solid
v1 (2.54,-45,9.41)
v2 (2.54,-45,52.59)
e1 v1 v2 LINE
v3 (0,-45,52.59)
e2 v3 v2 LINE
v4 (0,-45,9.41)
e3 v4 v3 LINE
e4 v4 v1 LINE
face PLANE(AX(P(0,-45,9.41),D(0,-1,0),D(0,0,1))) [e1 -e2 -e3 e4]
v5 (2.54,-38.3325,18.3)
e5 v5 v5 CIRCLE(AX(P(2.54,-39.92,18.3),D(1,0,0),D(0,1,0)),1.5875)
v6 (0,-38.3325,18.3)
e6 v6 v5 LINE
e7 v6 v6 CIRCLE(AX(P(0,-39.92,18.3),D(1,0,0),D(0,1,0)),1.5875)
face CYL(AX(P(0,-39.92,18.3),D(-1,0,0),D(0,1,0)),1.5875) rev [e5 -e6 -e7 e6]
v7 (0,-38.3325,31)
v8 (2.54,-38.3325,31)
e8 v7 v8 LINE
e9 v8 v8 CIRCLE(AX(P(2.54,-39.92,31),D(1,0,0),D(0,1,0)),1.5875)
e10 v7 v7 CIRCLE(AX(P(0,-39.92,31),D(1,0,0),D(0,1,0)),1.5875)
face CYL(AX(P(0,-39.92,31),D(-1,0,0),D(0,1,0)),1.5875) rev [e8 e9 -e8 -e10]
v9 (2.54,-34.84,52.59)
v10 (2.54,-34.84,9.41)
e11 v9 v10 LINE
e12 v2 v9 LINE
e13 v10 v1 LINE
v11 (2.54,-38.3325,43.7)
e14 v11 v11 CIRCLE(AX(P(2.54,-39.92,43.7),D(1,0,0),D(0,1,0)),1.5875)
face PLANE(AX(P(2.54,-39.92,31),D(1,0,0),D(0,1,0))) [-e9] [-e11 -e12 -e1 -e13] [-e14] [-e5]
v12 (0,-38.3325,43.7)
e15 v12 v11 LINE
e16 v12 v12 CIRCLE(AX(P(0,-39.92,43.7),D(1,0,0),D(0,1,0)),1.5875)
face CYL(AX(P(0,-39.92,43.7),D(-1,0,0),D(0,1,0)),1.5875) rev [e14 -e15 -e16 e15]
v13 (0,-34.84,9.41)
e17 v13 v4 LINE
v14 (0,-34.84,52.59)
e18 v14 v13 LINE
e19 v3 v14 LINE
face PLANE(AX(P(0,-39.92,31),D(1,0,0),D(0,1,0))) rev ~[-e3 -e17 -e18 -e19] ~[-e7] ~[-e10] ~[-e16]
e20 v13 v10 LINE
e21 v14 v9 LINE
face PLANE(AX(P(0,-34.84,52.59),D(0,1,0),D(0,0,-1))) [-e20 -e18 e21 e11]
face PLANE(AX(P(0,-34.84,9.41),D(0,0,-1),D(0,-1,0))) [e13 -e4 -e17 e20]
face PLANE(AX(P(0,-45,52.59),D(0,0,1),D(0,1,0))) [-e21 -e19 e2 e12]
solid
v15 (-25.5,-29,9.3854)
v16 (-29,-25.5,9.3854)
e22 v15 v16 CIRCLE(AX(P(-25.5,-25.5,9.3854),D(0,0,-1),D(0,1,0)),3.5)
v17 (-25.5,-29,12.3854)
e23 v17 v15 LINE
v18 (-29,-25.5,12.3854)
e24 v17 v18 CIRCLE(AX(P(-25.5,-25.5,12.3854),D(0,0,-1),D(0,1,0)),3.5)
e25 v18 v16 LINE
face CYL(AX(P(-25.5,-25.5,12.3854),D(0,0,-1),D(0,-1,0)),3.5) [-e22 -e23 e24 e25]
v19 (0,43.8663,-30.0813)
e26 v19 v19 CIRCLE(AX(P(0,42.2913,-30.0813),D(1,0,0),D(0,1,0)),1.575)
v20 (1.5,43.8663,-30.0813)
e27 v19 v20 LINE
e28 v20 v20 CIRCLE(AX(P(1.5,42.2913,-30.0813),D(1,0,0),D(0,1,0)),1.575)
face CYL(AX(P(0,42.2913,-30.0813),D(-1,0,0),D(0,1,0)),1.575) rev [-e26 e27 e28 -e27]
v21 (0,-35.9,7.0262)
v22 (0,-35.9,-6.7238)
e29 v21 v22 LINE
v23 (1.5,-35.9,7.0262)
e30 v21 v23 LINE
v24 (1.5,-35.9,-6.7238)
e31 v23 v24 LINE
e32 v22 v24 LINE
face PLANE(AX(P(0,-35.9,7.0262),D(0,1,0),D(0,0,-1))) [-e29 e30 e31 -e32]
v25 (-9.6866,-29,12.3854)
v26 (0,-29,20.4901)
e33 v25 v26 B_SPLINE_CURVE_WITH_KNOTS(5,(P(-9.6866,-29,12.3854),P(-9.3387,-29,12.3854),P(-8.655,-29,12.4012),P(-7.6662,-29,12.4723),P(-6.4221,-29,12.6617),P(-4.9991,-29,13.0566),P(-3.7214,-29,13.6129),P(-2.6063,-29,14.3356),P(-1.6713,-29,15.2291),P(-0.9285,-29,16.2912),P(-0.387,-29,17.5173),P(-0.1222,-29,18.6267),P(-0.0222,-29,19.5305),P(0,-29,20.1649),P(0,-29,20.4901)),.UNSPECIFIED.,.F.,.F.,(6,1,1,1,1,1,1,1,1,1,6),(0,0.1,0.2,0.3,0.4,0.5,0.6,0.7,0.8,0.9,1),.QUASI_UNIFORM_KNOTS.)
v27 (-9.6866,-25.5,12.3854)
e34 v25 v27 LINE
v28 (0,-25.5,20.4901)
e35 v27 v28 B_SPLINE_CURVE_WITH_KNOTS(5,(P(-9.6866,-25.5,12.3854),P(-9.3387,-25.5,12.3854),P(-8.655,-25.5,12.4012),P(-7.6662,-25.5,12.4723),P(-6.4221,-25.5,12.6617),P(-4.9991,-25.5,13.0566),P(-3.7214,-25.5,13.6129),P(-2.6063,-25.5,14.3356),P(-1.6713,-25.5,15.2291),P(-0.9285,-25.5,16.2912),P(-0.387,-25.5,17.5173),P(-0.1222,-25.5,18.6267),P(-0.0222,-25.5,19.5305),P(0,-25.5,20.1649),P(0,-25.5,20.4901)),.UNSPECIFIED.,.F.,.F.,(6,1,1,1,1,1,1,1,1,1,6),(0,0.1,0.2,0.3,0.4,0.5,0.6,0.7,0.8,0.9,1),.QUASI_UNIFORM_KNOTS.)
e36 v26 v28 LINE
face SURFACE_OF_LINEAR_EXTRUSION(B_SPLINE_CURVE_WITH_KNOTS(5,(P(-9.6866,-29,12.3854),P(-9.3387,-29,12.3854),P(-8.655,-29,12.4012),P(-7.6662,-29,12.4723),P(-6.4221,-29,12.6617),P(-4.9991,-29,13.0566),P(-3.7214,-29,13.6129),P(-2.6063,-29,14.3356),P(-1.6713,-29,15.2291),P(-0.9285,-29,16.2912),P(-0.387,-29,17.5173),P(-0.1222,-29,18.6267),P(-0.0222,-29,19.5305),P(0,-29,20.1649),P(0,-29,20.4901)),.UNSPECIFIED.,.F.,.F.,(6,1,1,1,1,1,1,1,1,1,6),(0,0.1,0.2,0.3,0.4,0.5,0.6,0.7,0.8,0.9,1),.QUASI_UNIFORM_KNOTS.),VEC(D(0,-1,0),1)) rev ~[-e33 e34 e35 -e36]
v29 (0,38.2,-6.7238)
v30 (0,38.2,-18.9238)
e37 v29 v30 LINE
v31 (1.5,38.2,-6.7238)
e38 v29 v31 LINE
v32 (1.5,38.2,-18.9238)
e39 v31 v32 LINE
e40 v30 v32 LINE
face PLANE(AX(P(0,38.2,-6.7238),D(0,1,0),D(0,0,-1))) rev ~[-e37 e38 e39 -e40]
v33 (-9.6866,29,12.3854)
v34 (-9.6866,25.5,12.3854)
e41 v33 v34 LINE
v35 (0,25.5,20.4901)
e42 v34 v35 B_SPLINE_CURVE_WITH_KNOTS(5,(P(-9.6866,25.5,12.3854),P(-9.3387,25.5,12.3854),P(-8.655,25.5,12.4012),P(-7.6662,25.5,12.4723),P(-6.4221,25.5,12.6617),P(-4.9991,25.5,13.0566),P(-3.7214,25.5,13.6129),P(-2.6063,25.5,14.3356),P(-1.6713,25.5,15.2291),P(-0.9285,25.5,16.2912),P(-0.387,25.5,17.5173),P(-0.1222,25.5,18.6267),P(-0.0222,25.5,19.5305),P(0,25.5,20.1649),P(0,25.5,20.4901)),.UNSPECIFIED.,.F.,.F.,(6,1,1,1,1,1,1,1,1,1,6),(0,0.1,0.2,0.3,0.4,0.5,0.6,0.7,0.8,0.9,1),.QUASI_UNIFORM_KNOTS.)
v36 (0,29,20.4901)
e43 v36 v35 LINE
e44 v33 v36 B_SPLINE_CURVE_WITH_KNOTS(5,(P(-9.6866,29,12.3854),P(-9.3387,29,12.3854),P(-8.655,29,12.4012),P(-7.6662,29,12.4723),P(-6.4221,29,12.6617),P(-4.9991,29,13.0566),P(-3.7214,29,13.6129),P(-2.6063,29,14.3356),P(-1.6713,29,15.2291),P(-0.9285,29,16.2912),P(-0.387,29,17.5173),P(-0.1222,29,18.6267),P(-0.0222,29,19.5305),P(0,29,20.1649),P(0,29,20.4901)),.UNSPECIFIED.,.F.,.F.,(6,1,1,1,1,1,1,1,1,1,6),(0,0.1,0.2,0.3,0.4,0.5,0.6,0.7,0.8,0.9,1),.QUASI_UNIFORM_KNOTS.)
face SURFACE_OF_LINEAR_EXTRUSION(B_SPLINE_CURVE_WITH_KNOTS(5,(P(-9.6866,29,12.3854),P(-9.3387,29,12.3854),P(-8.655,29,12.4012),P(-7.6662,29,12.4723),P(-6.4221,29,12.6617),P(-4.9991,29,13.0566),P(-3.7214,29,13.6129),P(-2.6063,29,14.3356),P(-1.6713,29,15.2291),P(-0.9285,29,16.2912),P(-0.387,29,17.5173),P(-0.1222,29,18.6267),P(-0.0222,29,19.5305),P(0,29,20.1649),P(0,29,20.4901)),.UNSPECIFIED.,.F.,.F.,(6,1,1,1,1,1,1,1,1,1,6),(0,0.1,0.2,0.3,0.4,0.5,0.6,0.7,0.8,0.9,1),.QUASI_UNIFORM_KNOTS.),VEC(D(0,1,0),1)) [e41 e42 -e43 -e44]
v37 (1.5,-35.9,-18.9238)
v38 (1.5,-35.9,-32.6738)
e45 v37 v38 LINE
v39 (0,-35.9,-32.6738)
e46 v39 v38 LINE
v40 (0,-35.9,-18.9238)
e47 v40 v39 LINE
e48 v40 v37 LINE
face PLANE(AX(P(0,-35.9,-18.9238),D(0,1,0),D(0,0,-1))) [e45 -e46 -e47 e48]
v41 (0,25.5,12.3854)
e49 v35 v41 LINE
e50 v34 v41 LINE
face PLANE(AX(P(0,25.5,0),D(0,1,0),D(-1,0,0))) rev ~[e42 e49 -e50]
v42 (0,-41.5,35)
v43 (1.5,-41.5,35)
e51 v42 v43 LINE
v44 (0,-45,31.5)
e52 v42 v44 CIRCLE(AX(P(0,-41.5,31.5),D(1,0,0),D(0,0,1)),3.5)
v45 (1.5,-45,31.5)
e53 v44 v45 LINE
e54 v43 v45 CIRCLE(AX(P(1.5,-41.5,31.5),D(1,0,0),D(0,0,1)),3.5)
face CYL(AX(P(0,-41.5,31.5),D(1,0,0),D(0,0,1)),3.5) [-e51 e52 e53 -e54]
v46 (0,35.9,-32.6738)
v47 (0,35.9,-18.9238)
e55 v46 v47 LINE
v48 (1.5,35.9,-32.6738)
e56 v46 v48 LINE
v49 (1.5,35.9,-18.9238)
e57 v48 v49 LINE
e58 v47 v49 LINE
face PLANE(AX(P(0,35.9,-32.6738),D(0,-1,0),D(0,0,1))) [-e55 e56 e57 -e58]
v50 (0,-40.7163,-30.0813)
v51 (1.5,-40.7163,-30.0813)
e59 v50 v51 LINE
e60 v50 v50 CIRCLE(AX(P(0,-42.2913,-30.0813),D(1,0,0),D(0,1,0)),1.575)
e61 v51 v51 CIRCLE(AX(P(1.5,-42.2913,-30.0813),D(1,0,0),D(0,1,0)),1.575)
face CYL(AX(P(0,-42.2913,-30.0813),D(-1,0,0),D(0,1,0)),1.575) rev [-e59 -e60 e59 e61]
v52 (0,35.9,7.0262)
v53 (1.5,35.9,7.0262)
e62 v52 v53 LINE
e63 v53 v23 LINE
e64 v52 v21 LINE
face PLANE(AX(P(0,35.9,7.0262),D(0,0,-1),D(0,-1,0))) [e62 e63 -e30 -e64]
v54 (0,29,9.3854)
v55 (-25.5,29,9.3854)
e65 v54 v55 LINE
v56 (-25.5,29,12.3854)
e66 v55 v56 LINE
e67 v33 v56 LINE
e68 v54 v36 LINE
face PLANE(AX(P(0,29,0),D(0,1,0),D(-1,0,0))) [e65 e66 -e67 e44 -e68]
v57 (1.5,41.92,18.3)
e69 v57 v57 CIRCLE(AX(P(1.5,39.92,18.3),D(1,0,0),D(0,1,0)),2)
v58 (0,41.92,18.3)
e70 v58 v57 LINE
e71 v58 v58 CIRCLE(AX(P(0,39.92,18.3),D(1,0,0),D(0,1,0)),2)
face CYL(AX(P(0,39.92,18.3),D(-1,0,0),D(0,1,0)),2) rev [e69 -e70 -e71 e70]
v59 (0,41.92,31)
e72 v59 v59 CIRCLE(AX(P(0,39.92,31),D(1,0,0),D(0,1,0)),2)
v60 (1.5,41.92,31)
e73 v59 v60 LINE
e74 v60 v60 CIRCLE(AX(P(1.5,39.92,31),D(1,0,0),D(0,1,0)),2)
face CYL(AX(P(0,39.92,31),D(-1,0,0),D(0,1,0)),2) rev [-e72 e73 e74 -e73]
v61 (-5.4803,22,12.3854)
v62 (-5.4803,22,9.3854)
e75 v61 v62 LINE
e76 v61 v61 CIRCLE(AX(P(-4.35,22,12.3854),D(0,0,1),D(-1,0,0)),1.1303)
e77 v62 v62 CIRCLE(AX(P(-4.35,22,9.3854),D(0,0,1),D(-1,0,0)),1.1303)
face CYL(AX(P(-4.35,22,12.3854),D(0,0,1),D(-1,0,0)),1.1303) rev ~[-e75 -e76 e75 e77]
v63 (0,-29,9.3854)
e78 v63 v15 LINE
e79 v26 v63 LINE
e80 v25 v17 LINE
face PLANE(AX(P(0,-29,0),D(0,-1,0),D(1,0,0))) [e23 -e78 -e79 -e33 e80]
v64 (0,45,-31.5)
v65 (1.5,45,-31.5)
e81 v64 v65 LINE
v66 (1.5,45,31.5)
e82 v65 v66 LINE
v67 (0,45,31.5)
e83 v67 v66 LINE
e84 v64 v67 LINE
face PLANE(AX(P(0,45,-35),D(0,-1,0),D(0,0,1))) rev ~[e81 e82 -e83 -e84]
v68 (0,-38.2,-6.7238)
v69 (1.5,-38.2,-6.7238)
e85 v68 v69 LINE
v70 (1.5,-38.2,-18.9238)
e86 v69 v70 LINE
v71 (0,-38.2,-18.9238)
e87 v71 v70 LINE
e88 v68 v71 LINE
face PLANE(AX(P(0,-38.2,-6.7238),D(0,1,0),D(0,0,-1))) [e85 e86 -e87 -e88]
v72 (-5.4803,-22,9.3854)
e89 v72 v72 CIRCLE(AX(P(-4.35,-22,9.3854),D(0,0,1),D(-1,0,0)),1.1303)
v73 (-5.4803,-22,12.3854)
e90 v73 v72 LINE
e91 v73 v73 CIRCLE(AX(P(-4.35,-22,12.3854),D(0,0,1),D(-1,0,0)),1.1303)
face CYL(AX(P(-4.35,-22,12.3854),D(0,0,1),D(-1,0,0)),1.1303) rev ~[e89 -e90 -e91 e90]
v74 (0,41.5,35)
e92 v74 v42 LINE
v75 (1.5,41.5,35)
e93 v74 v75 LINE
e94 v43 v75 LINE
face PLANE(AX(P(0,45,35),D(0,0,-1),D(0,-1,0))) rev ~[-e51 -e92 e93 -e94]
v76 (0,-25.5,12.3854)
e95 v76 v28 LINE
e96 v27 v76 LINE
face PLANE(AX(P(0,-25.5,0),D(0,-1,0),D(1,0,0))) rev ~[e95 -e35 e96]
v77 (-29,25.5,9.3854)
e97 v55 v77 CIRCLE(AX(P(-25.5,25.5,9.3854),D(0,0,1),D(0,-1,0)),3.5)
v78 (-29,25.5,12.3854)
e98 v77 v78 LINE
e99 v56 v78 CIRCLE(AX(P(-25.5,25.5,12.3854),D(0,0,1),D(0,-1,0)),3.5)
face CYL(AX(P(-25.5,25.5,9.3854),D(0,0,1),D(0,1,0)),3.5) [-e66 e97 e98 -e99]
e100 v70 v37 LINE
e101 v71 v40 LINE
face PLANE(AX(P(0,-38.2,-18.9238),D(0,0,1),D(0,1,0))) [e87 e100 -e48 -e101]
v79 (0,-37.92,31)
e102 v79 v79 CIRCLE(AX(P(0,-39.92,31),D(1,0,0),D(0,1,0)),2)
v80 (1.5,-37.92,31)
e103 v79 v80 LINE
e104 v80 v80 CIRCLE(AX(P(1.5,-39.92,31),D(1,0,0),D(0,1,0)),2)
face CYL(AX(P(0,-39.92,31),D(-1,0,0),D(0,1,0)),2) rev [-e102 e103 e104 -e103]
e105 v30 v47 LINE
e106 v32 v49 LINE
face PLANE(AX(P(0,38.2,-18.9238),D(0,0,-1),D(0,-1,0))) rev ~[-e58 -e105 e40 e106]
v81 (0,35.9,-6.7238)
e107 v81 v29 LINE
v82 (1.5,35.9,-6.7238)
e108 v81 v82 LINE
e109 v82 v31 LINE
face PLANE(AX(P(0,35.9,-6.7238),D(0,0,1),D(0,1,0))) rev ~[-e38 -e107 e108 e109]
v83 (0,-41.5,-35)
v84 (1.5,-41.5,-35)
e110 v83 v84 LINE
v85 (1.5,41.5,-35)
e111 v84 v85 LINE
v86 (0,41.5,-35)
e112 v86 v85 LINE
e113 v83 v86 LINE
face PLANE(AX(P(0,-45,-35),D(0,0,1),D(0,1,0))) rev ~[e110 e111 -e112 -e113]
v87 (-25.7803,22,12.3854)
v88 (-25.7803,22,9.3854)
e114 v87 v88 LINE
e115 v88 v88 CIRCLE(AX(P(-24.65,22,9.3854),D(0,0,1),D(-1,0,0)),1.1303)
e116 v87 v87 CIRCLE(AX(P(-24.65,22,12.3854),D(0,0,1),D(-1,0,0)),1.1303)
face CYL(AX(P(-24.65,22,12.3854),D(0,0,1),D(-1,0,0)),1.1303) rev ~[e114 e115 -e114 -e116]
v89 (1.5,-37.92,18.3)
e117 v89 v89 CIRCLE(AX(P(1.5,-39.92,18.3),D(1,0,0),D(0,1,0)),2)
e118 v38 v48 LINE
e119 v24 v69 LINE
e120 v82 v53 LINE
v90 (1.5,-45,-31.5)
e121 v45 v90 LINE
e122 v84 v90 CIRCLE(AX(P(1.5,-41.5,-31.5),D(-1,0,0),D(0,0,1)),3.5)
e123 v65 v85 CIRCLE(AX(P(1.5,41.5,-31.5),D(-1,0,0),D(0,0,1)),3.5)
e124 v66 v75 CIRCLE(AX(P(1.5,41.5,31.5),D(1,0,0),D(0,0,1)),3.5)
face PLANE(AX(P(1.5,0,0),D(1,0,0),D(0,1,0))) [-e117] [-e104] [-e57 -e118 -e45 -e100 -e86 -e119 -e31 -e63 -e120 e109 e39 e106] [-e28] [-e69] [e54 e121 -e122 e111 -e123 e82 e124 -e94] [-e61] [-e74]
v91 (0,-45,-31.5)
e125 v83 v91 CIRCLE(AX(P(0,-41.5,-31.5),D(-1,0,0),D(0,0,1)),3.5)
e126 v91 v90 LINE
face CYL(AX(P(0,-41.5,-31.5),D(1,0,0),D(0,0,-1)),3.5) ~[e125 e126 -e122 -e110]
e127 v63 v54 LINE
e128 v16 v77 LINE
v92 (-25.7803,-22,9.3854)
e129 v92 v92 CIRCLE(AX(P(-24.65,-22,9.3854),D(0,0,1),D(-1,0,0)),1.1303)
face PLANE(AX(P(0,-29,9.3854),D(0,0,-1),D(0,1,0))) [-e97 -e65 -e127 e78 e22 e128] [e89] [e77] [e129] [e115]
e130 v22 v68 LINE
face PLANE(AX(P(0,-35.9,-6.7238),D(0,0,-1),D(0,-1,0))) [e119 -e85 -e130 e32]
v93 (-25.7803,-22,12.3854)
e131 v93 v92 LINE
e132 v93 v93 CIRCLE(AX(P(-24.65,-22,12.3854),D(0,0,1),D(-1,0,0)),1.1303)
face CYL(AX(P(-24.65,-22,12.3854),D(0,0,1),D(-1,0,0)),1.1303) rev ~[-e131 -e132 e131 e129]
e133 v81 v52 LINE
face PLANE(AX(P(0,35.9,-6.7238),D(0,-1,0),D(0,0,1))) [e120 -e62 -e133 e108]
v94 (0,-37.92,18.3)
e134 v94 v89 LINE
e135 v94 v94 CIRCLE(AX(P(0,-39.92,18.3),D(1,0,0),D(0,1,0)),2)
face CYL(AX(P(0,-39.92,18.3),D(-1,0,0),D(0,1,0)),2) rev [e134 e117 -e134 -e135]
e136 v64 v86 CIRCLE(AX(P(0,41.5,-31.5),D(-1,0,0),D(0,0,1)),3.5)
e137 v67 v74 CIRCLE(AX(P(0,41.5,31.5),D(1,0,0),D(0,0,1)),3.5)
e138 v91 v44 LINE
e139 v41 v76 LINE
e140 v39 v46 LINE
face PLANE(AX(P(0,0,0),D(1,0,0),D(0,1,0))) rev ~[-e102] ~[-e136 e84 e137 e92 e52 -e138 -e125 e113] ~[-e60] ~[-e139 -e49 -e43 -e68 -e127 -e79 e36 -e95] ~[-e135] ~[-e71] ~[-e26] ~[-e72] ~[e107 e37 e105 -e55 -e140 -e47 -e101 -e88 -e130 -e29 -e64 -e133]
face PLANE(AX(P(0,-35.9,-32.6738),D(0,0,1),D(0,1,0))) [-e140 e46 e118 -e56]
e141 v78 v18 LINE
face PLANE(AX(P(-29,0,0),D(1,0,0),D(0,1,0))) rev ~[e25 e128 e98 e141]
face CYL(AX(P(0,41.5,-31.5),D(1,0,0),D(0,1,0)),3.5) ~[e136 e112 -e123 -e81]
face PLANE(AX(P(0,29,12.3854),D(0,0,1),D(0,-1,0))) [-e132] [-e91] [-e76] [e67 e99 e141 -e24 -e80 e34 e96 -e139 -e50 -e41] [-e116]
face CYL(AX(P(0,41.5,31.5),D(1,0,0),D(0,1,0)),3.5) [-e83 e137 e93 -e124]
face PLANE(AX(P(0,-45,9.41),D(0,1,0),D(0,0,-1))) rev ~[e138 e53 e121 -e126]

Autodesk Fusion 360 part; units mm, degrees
sketch "Sketch1" plane through (0, 0, 0) normal (1, 0, 0) x (0, 1, 0) in component "DIN_rain_mount1 v3"
  line L0 (-5.08, 21.59) -> (5.08, 21.59)
  line L1 (5.08, 21.59) -> (5.08, -21.59)
  line L2 (5.08, -21.59) -> (-5.08, -21.59)
  line L3 (-5.08, -21.59) -> (-5.08, 21.59)
  line L4 (-5.08, 21.59) -> (5.08, -21.59) construction
  line L5 (5.08, 21.59) -> (-5.08, -21.59) construction
  circle A0 centre (0, -12.7) radius 1.5875
  circle A1 centre (0, 0) radius 1.5875
  circle A2 centre (0, 12.7) radius 1.5875
  dimension "d5" = 10.16
  dimension "d6" = 43.18
  dimension "d7" = 3.175
  dimension "d10" = 6.35
  dimension "d11" = 12.7
extrude "Extrude1" add sketch "Sketch1" along normal blind 2.54 makes body 1 in component "DIN_rain_mount1 v3"
sketch "Sketch1 (2)" plane through (0, 0, 0) normal (1, 0, 0) x (0, 1, 0)
  line L0 (45, 35) -> (-45, 35)
  line L1 (-45, 35) -> (-45, -35)
  line L2 (-45, -35) -> (45, -35)
  line L3 (45, -35) -> (45, 35)
  line L4 (45, 35) -> (-45, -35) construction
  line L5 (-45, 35) -> (45, -35) construction
  line L6 (0, 0) -> (0, -35) construction
  line L7 (39.5, 8.6762) -> (-39.5, 8.6762) construction
  line L8 (-39.5, 8.6762) -> (-39.5, -34.3238) construction
  line L9 (-39.5, -34.3238) -> (39.5, -34.3238) construction
  line L10 (39.5, -34.3238) -> (39.5, 8.6762) construction
  line L11 (39.5, 8.6762) -> (-39.5, -34.3238) construction
  line L12 (-39.5, 8.6762) -> (39.5, -34.3238) construction
  line L13 (35.9, 7.0262) -> (-35.9, 7.0262)
  line L14 (-35.9, 7.0262) -> (-35.9, -32.6738)
  line L15 (-35.9, -32.6738) -> (35.9, -32.6738)
  line L16 (35.9, -32.6738) -> (35.9, 7.0262)
  line L17 (35.9, 7.0262) -> (-35.9, -32.6738) construction
  line L18 (-35.9, 7.0262) -> (35.9, -32.6738) construction
  circle A0 centre (42.2913, -30.0813) radius 1.575
  line L19 (0, 0) -> (10.5805, 0) construction
  circle A1 centre (-42.2913, -30.0813) radius 1.575
  circle A2 centre (42.2913, 30.0813) radius 1.575 construction
  circle A3 centre (-42.2913, 30.0813) radius 1.575 construction
  line L20 (0, 0) -> (0, 0.8708) construction
  line L21 (0, 0.8708) -> (0, 35) construction
  line L22 (25, 32.3854) -> (-25, 32.3854) construction
  line L23 (-25, 32.3854) -> (-25, 12.3854) construction
  line L24 (-25, 12.3854) -> (25, 12.3854) construction
  line L25 (25, 12.3854) -> (25, 32.3854) construction
  line L26 (25, 32.3854) -> (-25, 12.3854) construction
  line L27 (-25, 32.3854) -> (25, 12.3854) construction
  line L28 (29, 12.3854) -> (-29, 12.3854)
  line L29 (-29, 12.3854) -> (-29, 9.3854)
  line L30 (-29, 9.3854) -> (29, 9.3854)
  line L31 (29, 9.3854) -> (29, 12.3854)
  line L32 (29, 12.3854) -> (-29, 9.3854) construction
  line L33 (-29, 12.3854) -> (29, 9.3854) construction
  line L34 (0, -12.8238) -> (39.5, -12.8238) construction
  line L35 (35.9, -6.7238) -> (38.2, -6.7238)
  line L36 (38.2, -6.7238) -> (38.2, -18.9238)
  line L37 (38.2, -18.9238) -> (35.9, -18.9238)
  line L38 (35.9, -18.9238) -> (35.9, -6.7238)
  line L39 (-38.2, -18.9238) -> (-35.9, -18.9238)
  line L40 (-38.2, -6.7238) -> (-38.2, -18.9238)
  line L41 (-35.9, -6.7238) -> (-38.2, -6.7238)
  circle A4 centre (-39.92, 31) radius 2
  circle A5 centre (-39.92, 18.3) radius 2
  circle A6 centre (39.92, 31) radius 2
  circle A7 centre (39.92, 18.3) radius 2
  circle A8 centre (-39.92, 31) radius 1.5875
  circle A9 centre (-39.92, 18.3) radius 1.5875
  circle A10 centre (-39.92, 43.7) radius 1.5875
  line L42 (-45, 9.41) -> (-34.84, 9.41)
  line L43 (-34.84, 9.41) -> (-34.84, 52.59)
  line L44 (-34.84, 52.59) -> (-45, 52.59)
  line L45 (-45, 52.59) -> (-45, 9.41)
  point P0 (0, -12.8238)
  point P1 (0, -12.8238)
  point P2 (0, 22.3854)
  point P3 (0, 10.8854)
  point P4 (38.2, -12.8238)
  dimension "d8" = 90
  dimension "d9" = 70
  dimension "d12" = 79
  dimension "d13" = 43
  dimension "d14" = 71.8
  dimension "d15" = 39.7
  dimension "d17" = 3.15
  dimension "d21" = 50
  dimension "d22" = 20
  dimension "d25" = 58
  dimension "d26" = 3
  dimension "d58" = 2.3
  dimension "d59" = 12.2
  dimension "d62" = 4
  dimension "d63" = 4
extrude "Extrude1'" add sketch "Sketch1 (2)" along normal blind 1.5 separate body contours L0 L1 L2 L3 L42 L43 | L0 L1 L42 L43 L45 | L28 L29 L30 L31 makes body 2
extrude "Extrude2" add sketch "Sketch1 (2)" against normal blind 29 contours L28 L29 L30 L31 bodies 2
sketch "Sketch2" plane through (0, 0, 12.3854) normal (0, 0, 1) x (-1, 0, 0)
  line L0 (0, 29) -> (0, -29)
  line L1 (0, -29) -> (29, -29)
  line L2 (29, -29) -> (29, 29)
  line L3 (29, 29) -> (0, 29)
  line L4 (0, 29) -> (29, -29) construction
  line L5 (27.5, 25) -> (1.5, 25) construction
  line L6 (1.5, 25) -> (1.5, -25) construction
  line L7 (1.5, -25) -> (27.5, -25) construction
  line L8 (27.5, -25) -> (27.5, 25) construction
  line L9 (27.5, 25) -> (1.5, -25) construction
  line L10 (1.5, 25) -> (27.5, -25) construction
  circle A0 centre (4.35, -22) radius 1.575 construction
  circle A1 centre (24.65, -22) radius 1.575 construction
  circle A2 centre (4.35, 22) radius 1.575 construction
  circle A3 centre (24.65, 22) radius 1.575 construction
  line L11 (4.35, -22) -> (24.65, 22) construction
  circle A4 centre (4.35, -22) radius 1.1303
  circle A5 centre (24.65, -22) radius 1.1303
  circle A6 centre (4.35, 22) radius 1.1303
  circle A7 centre (24.65, 22) radius 1.1303
  point P0 (14.5, 0)
  point P1 (14.5, 0)
  point P2 (14.5, 0)
  dimension "d32" = 26
  dimension "d33" = 50
  dimension "d37" = 3.15
  dimension "d40" = 20.3
  dimension "d41" = 44
  dimension "d51" = 2.2606
  dimension "d54" = 20.3
  dimension "d55" = 44
fillet "Fillet1" radius 3.5 2 edges at (-29, 29, 10.8854) (-29, -29, 10.8854) on bodies 2
fillet "Fillet2" radius 3.5 4 edges at (0.75, 45, 35) (0.75, 45, -35) (0.75, -45, 35) (0.75, -45, -35) on bodies 2
sketch "Sketch3" plane through (0, -29, 0) normal (0, -1, 0) x (1, 0, 0)
  line L0 (-25.5, 12.3854) -> (-25.5, 9.3854)
  line L1 (-25.5, 9.3854) -> (0, 9.3854)
  line L2 (0, 9.3854) -> (0, 12.3854)
  line L3 (0, 12.3854) -> (-25.5, 12.3854)
  line L4 (0, 35) -> (0, -35) construction
  line L5 (-27.5, 12.3854) -> (-1.5, 12.3854) construction
  spline S0 degree 5 poles (-9.6866, 12.3854) (-9.3387, 12.3854) (-8.655, 12.4012) (-7.6662, 12.4723) (-6.4221, 12.6617) (-4.9991, 13.0566) (-3.7214, 13.6129) (-2.6063, 14.3356) (-1.6713, 15.2291) (-0.9285, 16.2912) (-0.387, 17.5173) (-0.1222, 18.6267) (-0.0222, 19.5305) (0, 20.1649) (0, 20.4901) knots 0 0 0 0 0 0 0.1 0.2 0.3 0.4 0.5 0.6 0.7 0.8 0.9 1 1 1 1 1 1
  line L6 (0, 18.6225) -> (0, 22.3578)
  line L7 (-11.558, 12.3854) -> (-7.8153, 12.3854)
  line L8 (-9.6866, 12.3854) -> (0, 12.3854)
  line L9 (0, 20.4901) -> (0, 12.3854)
  point P0 (-2.4919, 14.508)
extrude "Extrude3" add sketch "Sketch3" against normal blind 3.5 contours L3 S0 L6 L7 L8 L9 bodies 2
sketch "Sketch4" plane through (0, 29, 0) normal (0, 1, 0) x (-1, 0, 0)
  line L0 (25.5, 9.3854) -> (25.5, 12.3854)
  line L1 (25.5, 12.3854) -> (0, 12.3854)
  line L2 (0, 12.3854) -> (0, 9.3854)
  line L3 (0, 9.3854) -> (25.5, 9.3854)
  line L4 (0, 12.3854) -> (9.6866, 12.3854)
  spline S0 degree 5 poles (9.6866, 12.3854) (9.3387, 12.3854) (8.655, 12.4012) (7.6662, 12.4723) (6.4221, 12.6617) (4.9991, 13.0566) (3.7214, 13.6129) (2.6063, 14.3356) (1.6713, 15.2291) (0.9285, 16.2912) (0.387, 17.5173) (0.1222, 18.6267) (0.0222, 19.5305) (0, 20.1649) (0, 20.4901) knots 0 0 0 0 0 0 0.1 0.2 0.3 0.4 0.5 0.6 0.7 0.8 0.9 1 1 1 1 1 1
  line L5 (0, 20.4901) -> (0, 12.3854)
extrude "Extrude4" add sketch "Sketch4" against normal blind 3.5 contours L1 L4 S0 L5 bodies 2
extrude "Extrude5" cut sketch "Sketch2" against normal blind 3 contours A4 | A5 | A6 | A7 bodies 2
component "DIN_rain_mount1 v3" placed x (1, 0, 0) y (0, 1, 0) z (0, 0, 1) at (0, -39.92, 31)
equation "cutout_length = 71.4 mm" comment "71 mm from the manual"
equation "cutout_height = 39.3 mm" comment "39mm from the manual"
equation "plastic_thick = 1.5 mm"
equation "tab_width = 12 mm"
equation "tab_thick = 2.3 mm"
equation "panel_width = 90 mm"
equation "panel_height = 70 mm"
equation "d8 = panel_width"
equation "d9 = panel_height"
equation "power_supply_width = 79 mm"
equation "power_supply_height = 43 mm"
equation "d12 = power_supply_width"
equation "d13 = power_supply_height"
equation "d14 = cutout_length + clearance * 2"
equation "d15 = cutout_height + clearance * 2"
equation "mount_through_hole_diam = 3.15 mm"
equation "d17 = mount_through_hole_diam"
equation "relay_height = 20 mm"
equation "relay_length = 50 mm"
equation "relay_width = 26 mm"
equation "d21 = relay_length"
equation "d22 = relay_height"
equation "relay_ledge_thick = 3 mm"
equation "relay_ledge_length = relay_length + 8 mm"
equation "d25 = relay_ledge_length"
equation "d26 = relay_ledge_thick"
equation "relay_ledge_width = relay_width + 3 mm"
equation "d28 = plastic_thick"
equation "d30 = -relay_ledge_width"
equation "d32 = relay_width"
equation "d33 = relay_length"
equation "relay_dist_bw_holes_length = 44 mm"
equation "relay_dist_bw_holes_width = 20.3 mm"
equation "relay_hole_diam = 3.15 mm"
equation "d37 = relay_hole_diam"
equation "d40 = relay_dist_bw_holes_width"
equation "d41 = relay_dist_bw_holes_length"
equation "relay_mount_tap_diam = 0.089 in"
equation "d51 = relay_mount_tap_diam"
equation "d54 = relay_dist_bw_holes_width"
equation "d55 = relay_dist_bw_holes_length"
equation "d58 = tab_thick"
equation "d59 = tab_width + clearance"
equation "clearance = 0.2 mm"
equation "DIN_rail_mount_hole_diam = 4 mm"
equation "d62 = DIN_rail_mount_hole_diam"
equation "d63 = DIN_rail_mount_hole_diam"
equation "dist_bw_holes = 0.5 in"
equation "holes_diam = 0.125 in"
equation "DIN_rail_width = 0.4 in"
equation "DIN_rail_len = 1.7 in"
equation "d5 = DIN_rail_width"
equation "d6 = DIN_rail_len"
equation "d7 = holes_diam"
equation "d11 = dist_bw_holes"
